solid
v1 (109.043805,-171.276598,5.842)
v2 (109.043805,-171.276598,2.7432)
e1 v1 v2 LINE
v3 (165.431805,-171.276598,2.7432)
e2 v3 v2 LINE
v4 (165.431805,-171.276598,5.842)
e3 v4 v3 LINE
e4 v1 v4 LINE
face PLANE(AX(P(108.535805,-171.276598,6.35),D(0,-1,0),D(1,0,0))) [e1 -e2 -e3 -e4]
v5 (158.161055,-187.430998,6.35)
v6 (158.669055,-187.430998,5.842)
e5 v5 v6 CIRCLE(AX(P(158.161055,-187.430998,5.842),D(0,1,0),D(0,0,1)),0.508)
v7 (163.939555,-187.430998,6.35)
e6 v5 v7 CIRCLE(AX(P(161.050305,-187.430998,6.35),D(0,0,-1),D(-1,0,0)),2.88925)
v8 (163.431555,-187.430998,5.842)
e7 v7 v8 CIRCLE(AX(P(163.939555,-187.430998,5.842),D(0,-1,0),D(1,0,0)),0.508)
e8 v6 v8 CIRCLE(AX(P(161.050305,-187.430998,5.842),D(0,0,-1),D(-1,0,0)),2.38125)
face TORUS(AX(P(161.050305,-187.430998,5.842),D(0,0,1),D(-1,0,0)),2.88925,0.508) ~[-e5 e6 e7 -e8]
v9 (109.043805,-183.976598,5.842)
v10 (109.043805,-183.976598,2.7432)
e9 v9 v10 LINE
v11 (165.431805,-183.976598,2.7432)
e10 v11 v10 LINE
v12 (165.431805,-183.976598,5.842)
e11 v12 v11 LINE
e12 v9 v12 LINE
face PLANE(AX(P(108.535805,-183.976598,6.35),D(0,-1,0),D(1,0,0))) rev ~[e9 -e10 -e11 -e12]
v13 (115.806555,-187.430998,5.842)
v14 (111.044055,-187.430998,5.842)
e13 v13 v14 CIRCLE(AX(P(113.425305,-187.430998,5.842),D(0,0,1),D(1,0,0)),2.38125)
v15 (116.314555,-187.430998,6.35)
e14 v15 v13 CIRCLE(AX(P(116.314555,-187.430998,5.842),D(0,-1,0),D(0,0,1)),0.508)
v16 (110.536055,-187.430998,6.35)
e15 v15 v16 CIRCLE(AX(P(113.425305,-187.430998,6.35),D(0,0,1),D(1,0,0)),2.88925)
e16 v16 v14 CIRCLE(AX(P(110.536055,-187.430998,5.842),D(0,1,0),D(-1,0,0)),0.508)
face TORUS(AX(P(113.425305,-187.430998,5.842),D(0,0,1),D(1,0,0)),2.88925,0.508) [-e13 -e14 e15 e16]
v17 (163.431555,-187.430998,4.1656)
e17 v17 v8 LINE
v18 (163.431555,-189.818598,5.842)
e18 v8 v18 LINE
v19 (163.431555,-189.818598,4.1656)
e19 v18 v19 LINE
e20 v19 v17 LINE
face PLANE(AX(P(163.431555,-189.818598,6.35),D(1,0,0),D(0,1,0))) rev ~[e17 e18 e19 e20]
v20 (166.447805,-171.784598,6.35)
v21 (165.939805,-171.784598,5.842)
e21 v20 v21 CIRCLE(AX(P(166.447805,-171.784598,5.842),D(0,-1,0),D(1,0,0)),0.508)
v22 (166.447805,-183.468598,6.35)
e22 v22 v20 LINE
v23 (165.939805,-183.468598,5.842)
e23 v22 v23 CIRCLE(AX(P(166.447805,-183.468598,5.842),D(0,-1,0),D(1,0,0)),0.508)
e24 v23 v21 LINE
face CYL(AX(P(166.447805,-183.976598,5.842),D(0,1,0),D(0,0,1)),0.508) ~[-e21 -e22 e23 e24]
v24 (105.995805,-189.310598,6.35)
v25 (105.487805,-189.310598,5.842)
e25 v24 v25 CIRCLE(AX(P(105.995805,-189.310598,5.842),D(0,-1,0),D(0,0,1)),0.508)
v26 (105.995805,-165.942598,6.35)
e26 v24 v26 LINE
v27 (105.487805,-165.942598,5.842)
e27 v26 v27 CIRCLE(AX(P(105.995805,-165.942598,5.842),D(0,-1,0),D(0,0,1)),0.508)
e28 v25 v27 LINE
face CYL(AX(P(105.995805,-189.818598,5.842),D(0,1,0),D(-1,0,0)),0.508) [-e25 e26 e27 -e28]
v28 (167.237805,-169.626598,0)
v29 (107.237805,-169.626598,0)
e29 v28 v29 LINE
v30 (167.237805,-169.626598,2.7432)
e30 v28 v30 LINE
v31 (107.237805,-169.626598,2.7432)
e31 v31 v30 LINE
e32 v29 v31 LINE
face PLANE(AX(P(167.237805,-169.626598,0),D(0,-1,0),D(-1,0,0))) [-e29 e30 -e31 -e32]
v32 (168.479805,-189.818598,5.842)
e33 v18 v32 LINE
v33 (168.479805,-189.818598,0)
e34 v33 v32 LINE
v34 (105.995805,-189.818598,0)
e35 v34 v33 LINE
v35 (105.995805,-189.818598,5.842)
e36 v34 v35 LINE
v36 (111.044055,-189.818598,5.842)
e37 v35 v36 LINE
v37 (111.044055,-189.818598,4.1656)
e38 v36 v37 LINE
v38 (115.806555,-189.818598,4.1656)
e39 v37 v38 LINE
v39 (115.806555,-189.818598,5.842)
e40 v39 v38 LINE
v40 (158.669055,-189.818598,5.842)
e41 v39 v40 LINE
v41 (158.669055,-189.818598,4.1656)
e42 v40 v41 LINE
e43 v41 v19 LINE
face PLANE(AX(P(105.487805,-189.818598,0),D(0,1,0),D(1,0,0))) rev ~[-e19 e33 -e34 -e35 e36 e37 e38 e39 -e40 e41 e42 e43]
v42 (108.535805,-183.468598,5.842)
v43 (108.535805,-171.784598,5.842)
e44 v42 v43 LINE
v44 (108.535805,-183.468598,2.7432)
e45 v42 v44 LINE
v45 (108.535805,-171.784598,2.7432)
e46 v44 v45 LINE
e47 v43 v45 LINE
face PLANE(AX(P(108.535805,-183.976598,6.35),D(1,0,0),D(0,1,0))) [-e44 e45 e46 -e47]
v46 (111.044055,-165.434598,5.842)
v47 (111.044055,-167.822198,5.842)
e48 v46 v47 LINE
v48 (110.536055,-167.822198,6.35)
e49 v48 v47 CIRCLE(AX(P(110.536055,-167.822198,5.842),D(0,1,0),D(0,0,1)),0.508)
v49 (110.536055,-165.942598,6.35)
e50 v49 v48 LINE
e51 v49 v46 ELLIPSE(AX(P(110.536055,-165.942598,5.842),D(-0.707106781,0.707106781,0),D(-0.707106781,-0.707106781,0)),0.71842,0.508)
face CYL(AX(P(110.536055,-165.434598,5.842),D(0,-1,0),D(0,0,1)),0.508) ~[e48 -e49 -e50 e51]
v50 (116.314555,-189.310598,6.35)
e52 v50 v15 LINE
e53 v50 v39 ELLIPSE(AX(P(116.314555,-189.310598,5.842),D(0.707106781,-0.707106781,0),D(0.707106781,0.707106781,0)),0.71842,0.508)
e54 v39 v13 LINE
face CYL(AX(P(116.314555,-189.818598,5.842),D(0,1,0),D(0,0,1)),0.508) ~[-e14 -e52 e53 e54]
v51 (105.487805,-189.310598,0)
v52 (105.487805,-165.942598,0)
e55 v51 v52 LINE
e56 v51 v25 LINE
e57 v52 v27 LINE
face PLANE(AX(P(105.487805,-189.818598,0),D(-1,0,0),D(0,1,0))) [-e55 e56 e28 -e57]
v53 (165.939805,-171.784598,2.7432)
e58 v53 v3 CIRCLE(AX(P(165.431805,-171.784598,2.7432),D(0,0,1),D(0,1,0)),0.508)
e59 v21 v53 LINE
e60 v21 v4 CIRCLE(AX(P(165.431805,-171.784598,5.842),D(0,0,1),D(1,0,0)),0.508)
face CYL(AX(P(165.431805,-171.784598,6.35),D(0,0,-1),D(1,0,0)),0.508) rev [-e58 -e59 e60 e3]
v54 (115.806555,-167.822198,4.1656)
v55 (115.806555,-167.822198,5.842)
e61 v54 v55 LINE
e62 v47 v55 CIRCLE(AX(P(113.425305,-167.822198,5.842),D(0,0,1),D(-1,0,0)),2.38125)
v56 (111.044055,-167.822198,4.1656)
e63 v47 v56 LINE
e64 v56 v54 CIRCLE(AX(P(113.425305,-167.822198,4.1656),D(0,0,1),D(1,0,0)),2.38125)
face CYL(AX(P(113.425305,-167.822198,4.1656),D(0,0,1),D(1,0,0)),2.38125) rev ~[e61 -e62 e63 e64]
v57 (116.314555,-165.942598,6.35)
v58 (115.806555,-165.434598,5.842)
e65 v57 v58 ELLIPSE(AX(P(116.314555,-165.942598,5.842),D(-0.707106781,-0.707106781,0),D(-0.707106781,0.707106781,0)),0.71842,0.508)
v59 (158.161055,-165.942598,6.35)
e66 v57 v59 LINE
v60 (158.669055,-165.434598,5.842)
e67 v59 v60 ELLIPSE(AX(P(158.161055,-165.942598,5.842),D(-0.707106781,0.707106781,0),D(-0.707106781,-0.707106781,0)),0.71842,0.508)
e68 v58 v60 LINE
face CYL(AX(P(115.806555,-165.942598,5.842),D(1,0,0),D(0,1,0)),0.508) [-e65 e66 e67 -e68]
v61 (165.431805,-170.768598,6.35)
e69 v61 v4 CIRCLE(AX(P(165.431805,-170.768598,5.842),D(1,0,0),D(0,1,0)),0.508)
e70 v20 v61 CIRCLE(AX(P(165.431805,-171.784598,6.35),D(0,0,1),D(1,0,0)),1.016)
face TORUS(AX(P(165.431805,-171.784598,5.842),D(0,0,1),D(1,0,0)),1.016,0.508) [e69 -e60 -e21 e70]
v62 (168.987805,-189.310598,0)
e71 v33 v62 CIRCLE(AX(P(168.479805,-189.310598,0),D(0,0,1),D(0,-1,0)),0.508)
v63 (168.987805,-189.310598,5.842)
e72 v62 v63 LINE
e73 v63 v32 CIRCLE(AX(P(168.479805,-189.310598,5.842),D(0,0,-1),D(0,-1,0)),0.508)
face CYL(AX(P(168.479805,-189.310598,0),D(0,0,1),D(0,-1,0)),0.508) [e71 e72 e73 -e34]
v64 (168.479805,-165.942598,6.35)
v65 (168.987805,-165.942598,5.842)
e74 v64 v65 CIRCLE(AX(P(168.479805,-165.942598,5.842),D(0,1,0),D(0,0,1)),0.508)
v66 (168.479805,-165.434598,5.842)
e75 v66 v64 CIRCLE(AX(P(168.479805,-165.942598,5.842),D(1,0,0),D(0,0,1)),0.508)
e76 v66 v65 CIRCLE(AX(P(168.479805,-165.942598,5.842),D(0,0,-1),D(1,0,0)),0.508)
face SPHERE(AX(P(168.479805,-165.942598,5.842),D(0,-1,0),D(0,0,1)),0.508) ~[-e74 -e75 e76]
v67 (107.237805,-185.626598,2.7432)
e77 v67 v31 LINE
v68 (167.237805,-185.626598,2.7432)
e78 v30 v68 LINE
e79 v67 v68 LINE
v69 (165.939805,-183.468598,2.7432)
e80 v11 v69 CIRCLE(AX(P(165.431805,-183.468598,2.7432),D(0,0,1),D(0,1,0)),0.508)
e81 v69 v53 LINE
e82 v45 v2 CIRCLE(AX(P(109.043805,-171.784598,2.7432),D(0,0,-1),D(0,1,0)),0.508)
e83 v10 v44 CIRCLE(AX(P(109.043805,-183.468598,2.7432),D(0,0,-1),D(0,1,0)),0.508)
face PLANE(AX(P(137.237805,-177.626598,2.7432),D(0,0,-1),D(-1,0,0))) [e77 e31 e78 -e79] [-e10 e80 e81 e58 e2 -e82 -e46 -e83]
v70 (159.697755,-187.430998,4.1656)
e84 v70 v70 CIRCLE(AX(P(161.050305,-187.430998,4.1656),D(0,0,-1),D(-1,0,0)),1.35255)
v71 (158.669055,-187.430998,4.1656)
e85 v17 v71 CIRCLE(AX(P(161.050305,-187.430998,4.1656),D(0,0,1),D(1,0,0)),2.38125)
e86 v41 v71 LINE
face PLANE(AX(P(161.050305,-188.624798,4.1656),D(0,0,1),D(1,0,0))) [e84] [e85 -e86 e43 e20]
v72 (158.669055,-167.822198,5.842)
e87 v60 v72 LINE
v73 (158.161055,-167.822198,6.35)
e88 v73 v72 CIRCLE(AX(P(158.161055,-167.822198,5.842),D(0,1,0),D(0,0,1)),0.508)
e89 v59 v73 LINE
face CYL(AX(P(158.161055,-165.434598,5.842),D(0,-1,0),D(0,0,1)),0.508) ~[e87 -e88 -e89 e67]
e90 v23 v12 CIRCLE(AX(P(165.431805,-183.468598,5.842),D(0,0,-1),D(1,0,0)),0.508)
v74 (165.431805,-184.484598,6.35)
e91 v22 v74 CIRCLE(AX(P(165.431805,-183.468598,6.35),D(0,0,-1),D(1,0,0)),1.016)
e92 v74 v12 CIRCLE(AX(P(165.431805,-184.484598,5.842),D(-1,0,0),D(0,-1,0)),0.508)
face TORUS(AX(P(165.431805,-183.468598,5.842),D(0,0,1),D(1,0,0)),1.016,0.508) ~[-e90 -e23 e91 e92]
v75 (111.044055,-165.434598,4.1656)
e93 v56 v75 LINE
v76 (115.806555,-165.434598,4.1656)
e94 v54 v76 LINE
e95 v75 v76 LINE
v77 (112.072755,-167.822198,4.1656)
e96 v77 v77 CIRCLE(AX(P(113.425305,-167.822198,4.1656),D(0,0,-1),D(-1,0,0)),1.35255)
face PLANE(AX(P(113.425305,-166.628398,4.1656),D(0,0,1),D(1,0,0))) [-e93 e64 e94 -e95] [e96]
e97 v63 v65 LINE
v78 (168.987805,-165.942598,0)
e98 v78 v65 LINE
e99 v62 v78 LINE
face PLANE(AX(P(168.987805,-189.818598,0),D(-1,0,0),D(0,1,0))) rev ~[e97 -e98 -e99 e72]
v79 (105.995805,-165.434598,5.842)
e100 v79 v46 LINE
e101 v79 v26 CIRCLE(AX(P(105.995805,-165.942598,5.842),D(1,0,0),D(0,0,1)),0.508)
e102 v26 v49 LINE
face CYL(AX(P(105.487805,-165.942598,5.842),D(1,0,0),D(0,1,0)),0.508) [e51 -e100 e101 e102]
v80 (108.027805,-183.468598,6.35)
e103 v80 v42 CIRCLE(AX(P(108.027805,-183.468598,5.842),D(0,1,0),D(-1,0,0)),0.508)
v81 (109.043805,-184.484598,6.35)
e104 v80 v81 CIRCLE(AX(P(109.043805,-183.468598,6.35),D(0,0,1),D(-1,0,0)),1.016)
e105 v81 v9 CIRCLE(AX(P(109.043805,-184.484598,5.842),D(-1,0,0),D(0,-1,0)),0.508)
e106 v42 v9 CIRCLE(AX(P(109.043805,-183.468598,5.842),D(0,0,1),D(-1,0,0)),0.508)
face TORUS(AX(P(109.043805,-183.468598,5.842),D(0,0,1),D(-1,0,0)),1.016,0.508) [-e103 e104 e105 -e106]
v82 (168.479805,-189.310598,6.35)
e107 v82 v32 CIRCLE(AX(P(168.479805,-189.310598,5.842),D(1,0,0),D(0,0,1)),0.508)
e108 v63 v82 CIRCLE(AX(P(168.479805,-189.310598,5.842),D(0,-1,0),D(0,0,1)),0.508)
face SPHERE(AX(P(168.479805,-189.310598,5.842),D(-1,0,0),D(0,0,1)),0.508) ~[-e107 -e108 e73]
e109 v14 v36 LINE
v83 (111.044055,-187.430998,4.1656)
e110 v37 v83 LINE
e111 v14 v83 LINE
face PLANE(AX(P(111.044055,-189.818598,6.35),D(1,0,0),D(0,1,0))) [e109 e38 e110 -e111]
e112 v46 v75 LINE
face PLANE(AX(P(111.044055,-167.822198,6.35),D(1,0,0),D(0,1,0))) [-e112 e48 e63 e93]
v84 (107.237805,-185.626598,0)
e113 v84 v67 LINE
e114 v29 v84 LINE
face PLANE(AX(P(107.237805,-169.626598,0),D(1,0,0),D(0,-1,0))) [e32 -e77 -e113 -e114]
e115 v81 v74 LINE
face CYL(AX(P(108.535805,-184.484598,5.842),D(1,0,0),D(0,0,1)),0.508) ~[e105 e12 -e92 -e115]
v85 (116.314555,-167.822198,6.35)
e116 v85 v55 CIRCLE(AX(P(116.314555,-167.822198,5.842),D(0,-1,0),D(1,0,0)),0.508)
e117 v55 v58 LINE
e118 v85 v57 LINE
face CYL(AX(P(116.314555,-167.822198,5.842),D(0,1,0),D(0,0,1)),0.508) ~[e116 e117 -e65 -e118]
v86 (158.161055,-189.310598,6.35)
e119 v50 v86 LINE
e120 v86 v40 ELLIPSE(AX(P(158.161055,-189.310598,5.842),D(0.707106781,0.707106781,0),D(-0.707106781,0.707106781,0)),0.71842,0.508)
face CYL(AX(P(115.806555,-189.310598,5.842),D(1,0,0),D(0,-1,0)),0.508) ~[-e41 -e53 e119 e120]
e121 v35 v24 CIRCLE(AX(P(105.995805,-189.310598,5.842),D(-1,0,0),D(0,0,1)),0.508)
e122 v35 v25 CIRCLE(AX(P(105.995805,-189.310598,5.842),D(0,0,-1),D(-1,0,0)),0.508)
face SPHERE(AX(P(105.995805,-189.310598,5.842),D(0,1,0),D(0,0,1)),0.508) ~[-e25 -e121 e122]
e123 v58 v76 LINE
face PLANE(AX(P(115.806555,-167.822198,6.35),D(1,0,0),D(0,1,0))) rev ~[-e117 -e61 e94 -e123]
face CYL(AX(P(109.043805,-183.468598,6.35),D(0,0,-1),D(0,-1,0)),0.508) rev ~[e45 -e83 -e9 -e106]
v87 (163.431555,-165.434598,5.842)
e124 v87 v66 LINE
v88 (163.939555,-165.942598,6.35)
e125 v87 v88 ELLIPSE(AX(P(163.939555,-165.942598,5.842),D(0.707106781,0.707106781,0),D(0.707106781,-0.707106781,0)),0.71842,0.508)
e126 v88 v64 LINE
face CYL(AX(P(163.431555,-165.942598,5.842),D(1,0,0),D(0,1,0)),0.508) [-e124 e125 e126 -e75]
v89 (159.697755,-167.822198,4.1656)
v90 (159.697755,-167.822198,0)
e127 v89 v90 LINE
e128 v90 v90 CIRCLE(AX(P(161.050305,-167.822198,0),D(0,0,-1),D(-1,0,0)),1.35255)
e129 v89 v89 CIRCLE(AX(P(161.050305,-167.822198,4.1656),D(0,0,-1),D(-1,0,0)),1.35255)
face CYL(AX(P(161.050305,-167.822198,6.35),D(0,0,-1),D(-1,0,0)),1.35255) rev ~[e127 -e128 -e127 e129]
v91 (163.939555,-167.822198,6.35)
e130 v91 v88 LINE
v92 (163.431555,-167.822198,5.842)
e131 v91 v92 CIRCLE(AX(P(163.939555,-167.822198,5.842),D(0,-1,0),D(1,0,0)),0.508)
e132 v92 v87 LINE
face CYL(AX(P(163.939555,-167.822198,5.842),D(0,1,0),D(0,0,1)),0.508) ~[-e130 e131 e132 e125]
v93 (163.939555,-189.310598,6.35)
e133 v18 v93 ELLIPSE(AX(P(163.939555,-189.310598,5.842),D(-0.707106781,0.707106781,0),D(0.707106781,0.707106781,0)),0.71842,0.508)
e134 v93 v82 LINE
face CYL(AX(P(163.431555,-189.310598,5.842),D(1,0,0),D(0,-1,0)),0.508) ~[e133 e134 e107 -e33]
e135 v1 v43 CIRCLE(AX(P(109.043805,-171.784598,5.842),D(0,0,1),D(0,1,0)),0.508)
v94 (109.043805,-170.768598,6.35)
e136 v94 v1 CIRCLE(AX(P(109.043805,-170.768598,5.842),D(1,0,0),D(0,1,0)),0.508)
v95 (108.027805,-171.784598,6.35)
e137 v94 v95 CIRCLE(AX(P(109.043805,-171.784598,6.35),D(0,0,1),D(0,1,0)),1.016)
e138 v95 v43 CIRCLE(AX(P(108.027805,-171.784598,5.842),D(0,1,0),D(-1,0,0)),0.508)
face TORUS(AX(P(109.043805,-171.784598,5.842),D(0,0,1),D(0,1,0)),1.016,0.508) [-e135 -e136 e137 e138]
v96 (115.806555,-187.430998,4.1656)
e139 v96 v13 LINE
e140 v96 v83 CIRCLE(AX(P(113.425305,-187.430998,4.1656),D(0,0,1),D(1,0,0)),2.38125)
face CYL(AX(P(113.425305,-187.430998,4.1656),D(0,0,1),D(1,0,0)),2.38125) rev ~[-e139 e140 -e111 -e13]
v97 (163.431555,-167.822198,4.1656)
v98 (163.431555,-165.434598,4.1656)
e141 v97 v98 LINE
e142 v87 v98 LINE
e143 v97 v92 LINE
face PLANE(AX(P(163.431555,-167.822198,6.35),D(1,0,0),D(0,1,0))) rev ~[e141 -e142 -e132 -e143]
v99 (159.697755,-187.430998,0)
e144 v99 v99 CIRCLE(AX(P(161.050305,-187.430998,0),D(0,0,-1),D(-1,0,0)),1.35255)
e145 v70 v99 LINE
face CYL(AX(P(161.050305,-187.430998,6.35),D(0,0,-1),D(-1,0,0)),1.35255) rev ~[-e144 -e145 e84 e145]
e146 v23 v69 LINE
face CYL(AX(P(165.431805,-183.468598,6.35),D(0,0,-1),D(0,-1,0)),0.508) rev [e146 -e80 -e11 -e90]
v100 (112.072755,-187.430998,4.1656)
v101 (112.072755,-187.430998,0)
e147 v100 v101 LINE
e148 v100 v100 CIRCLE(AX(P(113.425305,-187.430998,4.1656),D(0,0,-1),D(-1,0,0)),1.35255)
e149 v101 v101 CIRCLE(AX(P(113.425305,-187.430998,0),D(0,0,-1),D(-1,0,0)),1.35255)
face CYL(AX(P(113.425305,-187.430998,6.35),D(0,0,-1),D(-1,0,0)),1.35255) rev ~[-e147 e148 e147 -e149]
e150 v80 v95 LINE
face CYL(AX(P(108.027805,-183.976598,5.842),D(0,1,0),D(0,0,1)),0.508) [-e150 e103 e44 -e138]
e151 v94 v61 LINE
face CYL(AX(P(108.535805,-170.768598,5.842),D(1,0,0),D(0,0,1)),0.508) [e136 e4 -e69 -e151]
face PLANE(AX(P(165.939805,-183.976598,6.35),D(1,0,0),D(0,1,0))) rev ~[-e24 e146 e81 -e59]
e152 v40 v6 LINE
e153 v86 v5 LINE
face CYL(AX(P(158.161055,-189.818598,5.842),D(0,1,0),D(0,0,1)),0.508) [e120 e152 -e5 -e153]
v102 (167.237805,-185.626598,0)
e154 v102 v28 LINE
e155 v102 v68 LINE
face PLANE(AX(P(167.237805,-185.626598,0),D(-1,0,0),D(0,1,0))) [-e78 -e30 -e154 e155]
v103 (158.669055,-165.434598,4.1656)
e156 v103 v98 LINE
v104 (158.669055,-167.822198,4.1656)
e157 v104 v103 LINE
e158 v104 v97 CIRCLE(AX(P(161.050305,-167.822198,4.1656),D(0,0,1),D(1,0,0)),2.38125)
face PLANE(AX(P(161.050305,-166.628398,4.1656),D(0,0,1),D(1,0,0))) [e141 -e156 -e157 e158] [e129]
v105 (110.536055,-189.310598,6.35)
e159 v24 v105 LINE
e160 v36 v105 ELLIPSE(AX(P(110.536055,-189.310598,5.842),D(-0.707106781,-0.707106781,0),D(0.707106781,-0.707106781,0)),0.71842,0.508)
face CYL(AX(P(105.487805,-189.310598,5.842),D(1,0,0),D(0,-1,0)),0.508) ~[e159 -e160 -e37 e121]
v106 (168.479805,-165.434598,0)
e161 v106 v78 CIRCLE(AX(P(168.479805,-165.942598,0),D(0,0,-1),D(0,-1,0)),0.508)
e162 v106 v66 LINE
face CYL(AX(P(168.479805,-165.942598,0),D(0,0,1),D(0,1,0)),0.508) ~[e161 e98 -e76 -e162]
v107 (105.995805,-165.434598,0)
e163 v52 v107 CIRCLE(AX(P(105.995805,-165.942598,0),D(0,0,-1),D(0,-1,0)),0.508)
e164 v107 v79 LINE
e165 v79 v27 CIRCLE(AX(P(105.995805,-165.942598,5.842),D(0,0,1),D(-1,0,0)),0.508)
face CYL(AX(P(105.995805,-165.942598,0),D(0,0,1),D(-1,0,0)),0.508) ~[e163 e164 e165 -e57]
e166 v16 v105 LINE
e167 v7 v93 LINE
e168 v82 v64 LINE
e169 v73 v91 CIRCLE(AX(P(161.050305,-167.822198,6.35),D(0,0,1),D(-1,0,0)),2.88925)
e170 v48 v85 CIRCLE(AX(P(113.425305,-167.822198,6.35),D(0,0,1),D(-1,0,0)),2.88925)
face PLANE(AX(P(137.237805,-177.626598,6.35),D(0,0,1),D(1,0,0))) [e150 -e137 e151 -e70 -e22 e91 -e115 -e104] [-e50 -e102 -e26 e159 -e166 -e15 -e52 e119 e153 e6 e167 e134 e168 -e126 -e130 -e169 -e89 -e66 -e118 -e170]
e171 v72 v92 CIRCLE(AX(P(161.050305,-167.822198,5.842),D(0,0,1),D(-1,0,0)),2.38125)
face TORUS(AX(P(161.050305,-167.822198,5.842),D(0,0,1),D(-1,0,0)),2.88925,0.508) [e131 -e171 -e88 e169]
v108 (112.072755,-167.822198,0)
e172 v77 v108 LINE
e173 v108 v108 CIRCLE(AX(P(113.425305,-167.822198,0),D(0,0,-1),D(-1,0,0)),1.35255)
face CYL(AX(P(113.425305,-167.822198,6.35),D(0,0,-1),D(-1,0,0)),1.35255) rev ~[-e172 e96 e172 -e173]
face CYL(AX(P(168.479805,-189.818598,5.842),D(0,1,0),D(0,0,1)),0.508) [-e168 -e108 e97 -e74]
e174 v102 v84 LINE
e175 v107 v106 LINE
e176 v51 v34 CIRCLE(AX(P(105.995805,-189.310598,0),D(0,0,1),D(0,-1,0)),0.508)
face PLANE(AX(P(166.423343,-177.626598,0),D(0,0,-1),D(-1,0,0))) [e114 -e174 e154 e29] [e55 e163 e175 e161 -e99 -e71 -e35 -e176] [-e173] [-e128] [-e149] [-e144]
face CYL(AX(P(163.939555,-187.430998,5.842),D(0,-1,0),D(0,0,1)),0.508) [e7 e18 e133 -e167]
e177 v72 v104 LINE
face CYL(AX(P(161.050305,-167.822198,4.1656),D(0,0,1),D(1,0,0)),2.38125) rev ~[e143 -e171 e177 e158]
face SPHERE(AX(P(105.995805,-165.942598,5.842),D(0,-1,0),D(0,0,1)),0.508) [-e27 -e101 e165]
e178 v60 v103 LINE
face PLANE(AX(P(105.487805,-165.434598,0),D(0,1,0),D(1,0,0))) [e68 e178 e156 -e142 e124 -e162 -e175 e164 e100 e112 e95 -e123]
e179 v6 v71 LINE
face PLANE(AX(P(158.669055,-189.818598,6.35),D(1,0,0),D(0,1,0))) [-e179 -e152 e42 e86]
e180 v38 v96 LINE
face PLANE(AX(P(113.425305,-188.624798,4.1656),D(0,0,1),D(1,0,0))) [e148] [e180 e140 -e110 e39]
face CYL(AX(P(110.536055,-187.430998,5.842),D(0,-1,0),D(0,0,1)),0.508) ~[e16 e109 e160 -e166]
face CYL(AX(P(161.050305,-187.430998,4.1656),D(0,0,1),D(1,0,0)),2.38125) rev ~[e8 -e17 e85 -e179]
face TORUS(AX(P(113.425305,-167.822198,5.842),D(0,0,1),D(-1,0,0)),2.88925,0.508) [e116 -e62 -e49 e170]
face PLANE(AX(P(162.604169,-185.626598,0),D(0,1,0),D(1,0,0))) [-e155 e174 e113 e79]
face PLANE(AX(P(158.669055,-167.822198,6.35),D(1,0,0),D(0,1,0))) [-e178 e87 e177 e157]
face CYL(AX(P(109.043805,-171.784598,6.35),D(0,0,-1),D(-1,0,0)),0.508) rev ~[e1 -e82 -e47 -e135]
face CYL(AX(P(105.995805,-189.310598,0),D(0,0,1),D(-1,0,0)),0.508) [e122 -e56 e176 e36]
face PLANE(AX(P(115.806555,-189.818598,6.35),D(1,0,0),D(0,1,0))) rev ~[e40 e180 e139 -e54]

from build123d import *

# Parameters (mm, degrees)
SKETCH1_W                                      = 63.5
SKETCH1_H                                      = 24.384
BOSS_EXTRUDE1_DEPTH                            = 6.35
CBORE_FOR_2_SOCKET_HEAD_CAP_SCREW1_D           = 2.7051
CBORE_FOR_2_SOCKET_HEAD_CAP_SCREW1_CBORE_D     = 4.7625
CBORE_FOR_2_SOCKET_HEAD_CAP_SCREW1_CBORE_DEPTH = 2.1844
SKETCH4_W                                      = 57.404
SKETCH4_H                                      = 12.7
CUT_EXTRUDE1_DEPTH                             = 7.35
SKETCH5_W                                      = 4.7625
SKETCH5_H                                      = 2.3876
CUT_EXTRUDE2_DEPTH                             = 2.1844
SKETCH7_W                                      = 57.404
SKETCH7_H                                      = 12.7
CUT_EXTRUDE3_DEPTH                             = 2.7432
FILLET1_R                                      = 0.508
SKETCH11_W                                     = 60
SKETCH11_H                                     = 16
CUT_EXTRUDE6_DEPTH                             = 3.7432
BOSS_EXTRUDE2_REACH                            = 8.35


with BuildPart() as part:
    # Sketch1 → Boss-Extrude1 (new body)
    with BuildSketch(Plane.XY):
        with Locations((137.237805359, -177.626597764)):
            Rectangle(SKETCH1_W, SKETCH1_H)
    extrude(amount=BOSS_EXTRUDE1_DEPTH)

    # CBORE for #2 Socket Head Cap Screw1 (through all)
    with Locations(Plane.XY.offset(6.35)):
        with Locations((161.050305359, -187.430997764), (113.425305359, -187.430997764), (161.050305359, -167.822197764), (113.425305359, -167.822197764)):
            CounterBoreHole(CBORE_FOR_2_SOCKET_HEAD_CAP_SCREW1_D / 2, CBORE_FOR_2_SOCKET_HEAD_CAP_SCREW1_CBORE_D / 2, CBORE_FOR_2_SOCKET_HEAD_CAP_SCREW1_CBORE_DEPTH)

    # Sketch4 → Cut-Extrude1 (cut, through all)
    with BuildSketch(Plane.XY.offset(6.35)):
        with Locations((137.237805359, -177.626597764)):
            Rectangle(SKETCH4_W, SKETCH4_H)
    extrude(amount=-CUT_EXTRUDE1_DEPTH, mode=Mode.SUBTRACT)

    # Sketch5 → Cut-Extrude2 (cut)
    with BuildSketch(Plane.XY.offset(6.35)):
        with Locations((113.425305359, -166.628397764)):
            Rectangle(SKETCH5_W, SKETCH5_H)
        with Locations((161.050305359, -166.628397764)):
            Rectangle(SKETCH5_W, SKETCH5_H)
        with Locations((113.425305359, -188.624797764)):
            Rectangle(SKETCH5_W, SKETCH5_H)
        with Locations((161.050305359, -188.624797764)):
            Rectangle(SKETCH5_W, SKETCH5_H)
    extrude(amount=-CUT_EXTRUDE2_DEPTH, mode=Mode.SUBTRACT)

    # Sketch7 → Cut-Extrude3 (cut)
    with BuildSketch(Plane(origin=(0, 0, 0), x_dir=(-1, 0, 0), z_dir=(0, 0, -1))):
        with BuildLine():
            Line((-163.431555359, -167.822197764), (-163.431555359, -166.704597764))
            Line((-163.431555359, -166.704597764), (-167.717805359, -166.704597764))
            Line((-167.717805359, -166.704597764), (-167.717805359, -188.548597764))
            Line((-167.717805359, -188.548597764), (-163.431555359, -188.548597764))
            Line((-163.431555359, -188.548597764), (-163.431555359, -187.430997764))
            ThreePointArc((-163.431555359, -187.430997764), (-161.050305359, -185.049747764), (-158.669055359, -187.430997764))
            Line((-158.669055359, -187.430997764), (-158.669055359, -188.548597764))
            Line((-158.669055359, -188.548597764), (-115.806555359, -188.548597764))
            Line((-115.806555359, -188.548597764), (-115.806555359, -187.430997764))
            ThreePointArc((-115.806555359, -187.430997764), (-113.425305359, -185.049747764), (-111.044055359, -187.430997764))
            Line((-111.044055359, -187.430997764), (-111.044055359, -188.548597764))
            Line((-111.044055359, -188.548597764), (-106.757805359, -188.548597764))
            Line((-106.757805359, -188.548597764), (-106.757805359, -166.704597764))
            Line((-106.757805359, -166.704597764), (-111.044055359, -166.704597764))
            Line((-111.044055359, -166.704597764), (-111.044055359, -167.822197764))
            ThreePointArc((-111.044055359, -167.822197764), (-113.425305359, -170.203447764), (-115.806555359, -167.822197764))
            Line((-115.806555359, -167.822197764), (-115.806555359, -166.704597764))
            Line((-115.806555359, -166.704597764), (-158.669055359, -166.704597764))
            Line((-158.669055359, -166.704597764), (-158.669055359, -167.822197764))
            ThreePointArc((-158.669055359, -167.822197764), (-161.050305359, -170.203447764), (-163.431555359, -167.822197764))
        make_face()
        with Locations((-137.237805359, -177.626597764)):
            Rectangle(SKETCH7_W, SKETCH7_H, mode=Mode.SUBTRACT)
    extrude(amount=-CUT_EXTRUDE3_DEPTH, mode=Mode.SUBTRACT)

    # Fillet1
    fillet1_edges = [part.edges().sort_by_distance(p)[0] for p in [
        (105.487805359, -177.626597764, 6.35),
        (166.209680359, -189.818597764, 6.35),
        (158.669055359, -188.624797764, 6.35),
        (163.431555359, -188.624797764, 6.35),
        (108.265930359, -189.818597764, 6.35),
        (108.535805359, -171.276597764, 4.5466),
        (165.939805359, -171.276597764, 4.5466),
        (108.535805359, -183.976597764, 4.5466),
        (165.939805359, -183.976597764, 4.5466),
        (106.757805359, -166.704597764, 1.3716),
        (111.044055359, -166.704597764, 1.3716),
        (115.806555359, -166.704597764, 1.3716),
        (113.425305359, -185.049747764, 6.35),
        (161.050305359, -185.049747764, 6.35),
        (168.987805359, -177.626597764, 6.35),
        (165.939805359, -177.626597764, 6.35),
        (137.237805359, -171.276597764, 6.35),
        (108.535805359, -177.626597764, 6.35),
        (137.237805359, -183.976597764, 6.35),
        (113.425305359, -170.203447764, 6.35),
        (108.265930359, -165.434597764, 6.35),
        (115.806555359, -166.628397764, 6.35),
        (111.044055359, -166.628397764, 6.35),
        (166.209680359, -165.434597764, 6.35),
        (168.987805359, -189.818597764, 3.175),
        (105.487805359, -189.818597764, 3.175),
        (161.050305359, -170.203447764, 6.35),
        (105.487805359, -165.434597764, 3.175),
        (168.987805359, -165.434597764, 3.175),
        (137.237805359, -165.434597764, 6.35),
        (163.431555359, -166.628397764, 6.35),
        (158.669055359, -166.628397764, 6.35),
        (137.237805359, -189.818597764, 6.35),
        (115.806555359, -188.624797764, 6.35),
        (111.044055359, -188.624797764, 6.35),
    ]]
    fillet(fillet1_edges, radius=FILLET1_R)

    # Sketch11 → Cut-Extrude6 (cut, through all)
    with BuildSketch(Plane(origin=(0, 0, 2.7432), x_dir=(-1, 0, 0), z_dir=(0, 0, -1))):
        with Locations((-137.237805359, -177.626597764)):
            Rectangle(SKETCH11_W, SKETCH11_H)
    extrude(amount=CUT_EXTRUDE6_DEPTH, mode=Mode.SUBTRACT)

    # Sketch10 → Boss-Extrude2 (add, up to next)
    with BuildSketch(Plane(origin=(0, 0, 0), x_dir=(-1, 0, 0), z_dir=(0, 0, -1)), mode=Mode.PRIVATE) as boss_extrude2_sk1:
        with BuildLine():
            ThreePointArc((-158.669055359, -167.822197764), (-158.885762757, -168.814723274), (-159.496441722, -169.626597764))
            Line((-159.496441722, -169.626597764), (-114.979168996, -169.626597764))
            ThreePointArc((-114.979168996, -169.626597764), (-115.58984796, -168.814723274), (-115.806555359, -167.822197764))
            Line((-115.806555359, -167.822197764), (-115.806555359, -167.212597764))
            ThreePointArc((-115.806555359, -167.212597764), (-115.955345114, -166.853387519), (-116.314555359, -166.704597764))
            Line((-116.314555359, -166.704597764), (-158.669055359, -166.704597764))
            Line((-158.669055359, -166.704597764), (-158.669055359, -167.822197764))
        make_face()
    boss_extrude2_tool1 = extrude(boss_extrude2_sk1.sketch, amount=-BOSS_EXTRUDE2_REACH, mode=Mode.PRIVATE) - part.part
    add(boss_extrude2_tool1.solids().sort_by_distance((137.247168, -168.173633, 0))[0])
    # Sketch10 → Boss-Extrude2 (add, up to next)
    with BuildSketch(Plane(origin=(0, 0, 0), x_dir=(-1, 0, 0), z_dir=(0, 0, -1)), mode=Mode.PRIVATE) as boss_extrude2_sk2:
        with BuildLine():
            Line((-107.237805359, -185.626597764), (-111.871441722, -185.626597764))
            ThreePointArc((-111.871441722, -185.626597764), (-111.260762757, -186.438472254), (-111.044055359, -187.430997764))
            Line((-111.044055359, -187.430997764), (-111.044055359, -188.548597764))
            Line((-111.044055359, -188.548597764), (-106.757805359, -188.548597764))
            Line((-106.757805359, -188.548597764), (-106.757805359, -167.212597764))
            ThreePointArc((-106.757805359, -167.212597764), (-106.906595114, -166.853387519), (-107.265805359, -166.704597764))
            Line((-107.265805359, -166.704597764), (-110.536055359, -166.704597764))
            ThreePointArc((-110.536055359, -166.704597764), (-110.895265604, -166.853387519), (-111.044055359, -167.212597764))
            Line((-111.044055359, -167.212597764), (-111.044055359, -167.822197764))
            ThreePointArc((-111.044055359, -167.822197764), (-111.260762757, -168.814723274), (-111.871441722, -169.626597764))
            Line((-111.871441722, -169.626597764), (-107.237805359, -169.626597764))
            Line((-107.237805359, -169.626597764), (-107.237805359, -185.626597764))
        make_face()
    boss_extrude2_tool2 = extrude(boss_extrude2_sk2.sketch, amount=-BOSS_EXTRUDE2_REACH, mode=Mode.PRIVATE) - part.part
    add(boss_extrude2_tool2.solids().sort_by_distance((111.056834, -186.344963, 0))[0])
    # Sketch10 → Boss-Extrude2 (add, up to next)
    with BuildSketch(Plane(origin=(0, 0, 0), x_dir=(-1, 0, 0), z_dir=(0, 0, -1)), mode=Mode.PRIVATE) as boss_extrude2_sk3:
        with BuildLine():
            Line((-114.979168996, -185.626597764), (-159.496441722, -185.626597764))
            ThreePointArc((-159.496441722, -185.626597764), (-158.885762757, -186.438472254), (-158.669055359, -187.430997764))
            Line((-158.669055359, -187.430997764), (-158.669055359, -188.548597764))
            Line((-158.669055359, -188.548597764), (-115.806555359, -188.548597764))
            Line((-115.806555359, -188.548597764), (-115.806555359, -187.430997764))
            ThreePointArc((-115.806555359, -187.430997764), (-115.58984796, -186.438472254), (-114.979168996, -185.626597764))
        make_face()
    boss_extrude2_tool3 = extrude(boss_extrude2_sk3.sketch, amount=-BOSS_EXTRUDE2_REACH, mode=Mode.PRIVATE) - part.part
    add(boss_extrude2_tool3.solids().sort_by_distance((137.237805, -187.080157, 0))[0])
    # Sketch10 → Boss-Extrude2 (add, up to next)
    with BuildSketch(Plane(origin=(0, 0, 0), x_dir=(-1, 0, 0), z_dir=(0, 0, -1)), mode=Mode.PRIVATE) as boss_extrude2_sk4:
        with BuildLine():
            Line((-162.604168996, -185.626597764), (-167.237805359, -185.626597764))
            Line((-167.237805359, -185.626597764), (-167.237805359, -169.626597764))
            Line((-167.237805359, -169.626597764), (-162.604168996, -169.626597764))
            ThreePointArc((-162.604168996, -169.626597764), (-163.21484796, -168.814723274), (-163.431555359, -167.822197764))
            Line((-163.431555359, -167.822197764), (-163.431555359, -166.704597764))
            Line((-163.431555359, -166.704597764), (-167.717805359, -166.704597764))
            Line((-167.717805359, -166.704597764), (-167.717805359, -188.548597764))
            Line((-167.717805359, -188.548597764), (-163.431555359, -188.548597764))
            Line((-163.431555359, -188.548597764), (-163.431555359, -187.430997764))
            ThreePointArc((-163.431555359, -187.430997764), (-163.21484796, -186.438472254), (-162.604168996, -185.626597764))
        make_face()
    boss_extrude2_tool4 = extrude(boss_extrude2_sk4.sketch, amount=-BOSS_EXTRUDE2_REACH, mode=Mode.PRIVATE) - part.part
    add(boss_extrude2_tool4.solids().sort_by_distance((164.920987, -185.850943, 0))[0])


solid = part.part
